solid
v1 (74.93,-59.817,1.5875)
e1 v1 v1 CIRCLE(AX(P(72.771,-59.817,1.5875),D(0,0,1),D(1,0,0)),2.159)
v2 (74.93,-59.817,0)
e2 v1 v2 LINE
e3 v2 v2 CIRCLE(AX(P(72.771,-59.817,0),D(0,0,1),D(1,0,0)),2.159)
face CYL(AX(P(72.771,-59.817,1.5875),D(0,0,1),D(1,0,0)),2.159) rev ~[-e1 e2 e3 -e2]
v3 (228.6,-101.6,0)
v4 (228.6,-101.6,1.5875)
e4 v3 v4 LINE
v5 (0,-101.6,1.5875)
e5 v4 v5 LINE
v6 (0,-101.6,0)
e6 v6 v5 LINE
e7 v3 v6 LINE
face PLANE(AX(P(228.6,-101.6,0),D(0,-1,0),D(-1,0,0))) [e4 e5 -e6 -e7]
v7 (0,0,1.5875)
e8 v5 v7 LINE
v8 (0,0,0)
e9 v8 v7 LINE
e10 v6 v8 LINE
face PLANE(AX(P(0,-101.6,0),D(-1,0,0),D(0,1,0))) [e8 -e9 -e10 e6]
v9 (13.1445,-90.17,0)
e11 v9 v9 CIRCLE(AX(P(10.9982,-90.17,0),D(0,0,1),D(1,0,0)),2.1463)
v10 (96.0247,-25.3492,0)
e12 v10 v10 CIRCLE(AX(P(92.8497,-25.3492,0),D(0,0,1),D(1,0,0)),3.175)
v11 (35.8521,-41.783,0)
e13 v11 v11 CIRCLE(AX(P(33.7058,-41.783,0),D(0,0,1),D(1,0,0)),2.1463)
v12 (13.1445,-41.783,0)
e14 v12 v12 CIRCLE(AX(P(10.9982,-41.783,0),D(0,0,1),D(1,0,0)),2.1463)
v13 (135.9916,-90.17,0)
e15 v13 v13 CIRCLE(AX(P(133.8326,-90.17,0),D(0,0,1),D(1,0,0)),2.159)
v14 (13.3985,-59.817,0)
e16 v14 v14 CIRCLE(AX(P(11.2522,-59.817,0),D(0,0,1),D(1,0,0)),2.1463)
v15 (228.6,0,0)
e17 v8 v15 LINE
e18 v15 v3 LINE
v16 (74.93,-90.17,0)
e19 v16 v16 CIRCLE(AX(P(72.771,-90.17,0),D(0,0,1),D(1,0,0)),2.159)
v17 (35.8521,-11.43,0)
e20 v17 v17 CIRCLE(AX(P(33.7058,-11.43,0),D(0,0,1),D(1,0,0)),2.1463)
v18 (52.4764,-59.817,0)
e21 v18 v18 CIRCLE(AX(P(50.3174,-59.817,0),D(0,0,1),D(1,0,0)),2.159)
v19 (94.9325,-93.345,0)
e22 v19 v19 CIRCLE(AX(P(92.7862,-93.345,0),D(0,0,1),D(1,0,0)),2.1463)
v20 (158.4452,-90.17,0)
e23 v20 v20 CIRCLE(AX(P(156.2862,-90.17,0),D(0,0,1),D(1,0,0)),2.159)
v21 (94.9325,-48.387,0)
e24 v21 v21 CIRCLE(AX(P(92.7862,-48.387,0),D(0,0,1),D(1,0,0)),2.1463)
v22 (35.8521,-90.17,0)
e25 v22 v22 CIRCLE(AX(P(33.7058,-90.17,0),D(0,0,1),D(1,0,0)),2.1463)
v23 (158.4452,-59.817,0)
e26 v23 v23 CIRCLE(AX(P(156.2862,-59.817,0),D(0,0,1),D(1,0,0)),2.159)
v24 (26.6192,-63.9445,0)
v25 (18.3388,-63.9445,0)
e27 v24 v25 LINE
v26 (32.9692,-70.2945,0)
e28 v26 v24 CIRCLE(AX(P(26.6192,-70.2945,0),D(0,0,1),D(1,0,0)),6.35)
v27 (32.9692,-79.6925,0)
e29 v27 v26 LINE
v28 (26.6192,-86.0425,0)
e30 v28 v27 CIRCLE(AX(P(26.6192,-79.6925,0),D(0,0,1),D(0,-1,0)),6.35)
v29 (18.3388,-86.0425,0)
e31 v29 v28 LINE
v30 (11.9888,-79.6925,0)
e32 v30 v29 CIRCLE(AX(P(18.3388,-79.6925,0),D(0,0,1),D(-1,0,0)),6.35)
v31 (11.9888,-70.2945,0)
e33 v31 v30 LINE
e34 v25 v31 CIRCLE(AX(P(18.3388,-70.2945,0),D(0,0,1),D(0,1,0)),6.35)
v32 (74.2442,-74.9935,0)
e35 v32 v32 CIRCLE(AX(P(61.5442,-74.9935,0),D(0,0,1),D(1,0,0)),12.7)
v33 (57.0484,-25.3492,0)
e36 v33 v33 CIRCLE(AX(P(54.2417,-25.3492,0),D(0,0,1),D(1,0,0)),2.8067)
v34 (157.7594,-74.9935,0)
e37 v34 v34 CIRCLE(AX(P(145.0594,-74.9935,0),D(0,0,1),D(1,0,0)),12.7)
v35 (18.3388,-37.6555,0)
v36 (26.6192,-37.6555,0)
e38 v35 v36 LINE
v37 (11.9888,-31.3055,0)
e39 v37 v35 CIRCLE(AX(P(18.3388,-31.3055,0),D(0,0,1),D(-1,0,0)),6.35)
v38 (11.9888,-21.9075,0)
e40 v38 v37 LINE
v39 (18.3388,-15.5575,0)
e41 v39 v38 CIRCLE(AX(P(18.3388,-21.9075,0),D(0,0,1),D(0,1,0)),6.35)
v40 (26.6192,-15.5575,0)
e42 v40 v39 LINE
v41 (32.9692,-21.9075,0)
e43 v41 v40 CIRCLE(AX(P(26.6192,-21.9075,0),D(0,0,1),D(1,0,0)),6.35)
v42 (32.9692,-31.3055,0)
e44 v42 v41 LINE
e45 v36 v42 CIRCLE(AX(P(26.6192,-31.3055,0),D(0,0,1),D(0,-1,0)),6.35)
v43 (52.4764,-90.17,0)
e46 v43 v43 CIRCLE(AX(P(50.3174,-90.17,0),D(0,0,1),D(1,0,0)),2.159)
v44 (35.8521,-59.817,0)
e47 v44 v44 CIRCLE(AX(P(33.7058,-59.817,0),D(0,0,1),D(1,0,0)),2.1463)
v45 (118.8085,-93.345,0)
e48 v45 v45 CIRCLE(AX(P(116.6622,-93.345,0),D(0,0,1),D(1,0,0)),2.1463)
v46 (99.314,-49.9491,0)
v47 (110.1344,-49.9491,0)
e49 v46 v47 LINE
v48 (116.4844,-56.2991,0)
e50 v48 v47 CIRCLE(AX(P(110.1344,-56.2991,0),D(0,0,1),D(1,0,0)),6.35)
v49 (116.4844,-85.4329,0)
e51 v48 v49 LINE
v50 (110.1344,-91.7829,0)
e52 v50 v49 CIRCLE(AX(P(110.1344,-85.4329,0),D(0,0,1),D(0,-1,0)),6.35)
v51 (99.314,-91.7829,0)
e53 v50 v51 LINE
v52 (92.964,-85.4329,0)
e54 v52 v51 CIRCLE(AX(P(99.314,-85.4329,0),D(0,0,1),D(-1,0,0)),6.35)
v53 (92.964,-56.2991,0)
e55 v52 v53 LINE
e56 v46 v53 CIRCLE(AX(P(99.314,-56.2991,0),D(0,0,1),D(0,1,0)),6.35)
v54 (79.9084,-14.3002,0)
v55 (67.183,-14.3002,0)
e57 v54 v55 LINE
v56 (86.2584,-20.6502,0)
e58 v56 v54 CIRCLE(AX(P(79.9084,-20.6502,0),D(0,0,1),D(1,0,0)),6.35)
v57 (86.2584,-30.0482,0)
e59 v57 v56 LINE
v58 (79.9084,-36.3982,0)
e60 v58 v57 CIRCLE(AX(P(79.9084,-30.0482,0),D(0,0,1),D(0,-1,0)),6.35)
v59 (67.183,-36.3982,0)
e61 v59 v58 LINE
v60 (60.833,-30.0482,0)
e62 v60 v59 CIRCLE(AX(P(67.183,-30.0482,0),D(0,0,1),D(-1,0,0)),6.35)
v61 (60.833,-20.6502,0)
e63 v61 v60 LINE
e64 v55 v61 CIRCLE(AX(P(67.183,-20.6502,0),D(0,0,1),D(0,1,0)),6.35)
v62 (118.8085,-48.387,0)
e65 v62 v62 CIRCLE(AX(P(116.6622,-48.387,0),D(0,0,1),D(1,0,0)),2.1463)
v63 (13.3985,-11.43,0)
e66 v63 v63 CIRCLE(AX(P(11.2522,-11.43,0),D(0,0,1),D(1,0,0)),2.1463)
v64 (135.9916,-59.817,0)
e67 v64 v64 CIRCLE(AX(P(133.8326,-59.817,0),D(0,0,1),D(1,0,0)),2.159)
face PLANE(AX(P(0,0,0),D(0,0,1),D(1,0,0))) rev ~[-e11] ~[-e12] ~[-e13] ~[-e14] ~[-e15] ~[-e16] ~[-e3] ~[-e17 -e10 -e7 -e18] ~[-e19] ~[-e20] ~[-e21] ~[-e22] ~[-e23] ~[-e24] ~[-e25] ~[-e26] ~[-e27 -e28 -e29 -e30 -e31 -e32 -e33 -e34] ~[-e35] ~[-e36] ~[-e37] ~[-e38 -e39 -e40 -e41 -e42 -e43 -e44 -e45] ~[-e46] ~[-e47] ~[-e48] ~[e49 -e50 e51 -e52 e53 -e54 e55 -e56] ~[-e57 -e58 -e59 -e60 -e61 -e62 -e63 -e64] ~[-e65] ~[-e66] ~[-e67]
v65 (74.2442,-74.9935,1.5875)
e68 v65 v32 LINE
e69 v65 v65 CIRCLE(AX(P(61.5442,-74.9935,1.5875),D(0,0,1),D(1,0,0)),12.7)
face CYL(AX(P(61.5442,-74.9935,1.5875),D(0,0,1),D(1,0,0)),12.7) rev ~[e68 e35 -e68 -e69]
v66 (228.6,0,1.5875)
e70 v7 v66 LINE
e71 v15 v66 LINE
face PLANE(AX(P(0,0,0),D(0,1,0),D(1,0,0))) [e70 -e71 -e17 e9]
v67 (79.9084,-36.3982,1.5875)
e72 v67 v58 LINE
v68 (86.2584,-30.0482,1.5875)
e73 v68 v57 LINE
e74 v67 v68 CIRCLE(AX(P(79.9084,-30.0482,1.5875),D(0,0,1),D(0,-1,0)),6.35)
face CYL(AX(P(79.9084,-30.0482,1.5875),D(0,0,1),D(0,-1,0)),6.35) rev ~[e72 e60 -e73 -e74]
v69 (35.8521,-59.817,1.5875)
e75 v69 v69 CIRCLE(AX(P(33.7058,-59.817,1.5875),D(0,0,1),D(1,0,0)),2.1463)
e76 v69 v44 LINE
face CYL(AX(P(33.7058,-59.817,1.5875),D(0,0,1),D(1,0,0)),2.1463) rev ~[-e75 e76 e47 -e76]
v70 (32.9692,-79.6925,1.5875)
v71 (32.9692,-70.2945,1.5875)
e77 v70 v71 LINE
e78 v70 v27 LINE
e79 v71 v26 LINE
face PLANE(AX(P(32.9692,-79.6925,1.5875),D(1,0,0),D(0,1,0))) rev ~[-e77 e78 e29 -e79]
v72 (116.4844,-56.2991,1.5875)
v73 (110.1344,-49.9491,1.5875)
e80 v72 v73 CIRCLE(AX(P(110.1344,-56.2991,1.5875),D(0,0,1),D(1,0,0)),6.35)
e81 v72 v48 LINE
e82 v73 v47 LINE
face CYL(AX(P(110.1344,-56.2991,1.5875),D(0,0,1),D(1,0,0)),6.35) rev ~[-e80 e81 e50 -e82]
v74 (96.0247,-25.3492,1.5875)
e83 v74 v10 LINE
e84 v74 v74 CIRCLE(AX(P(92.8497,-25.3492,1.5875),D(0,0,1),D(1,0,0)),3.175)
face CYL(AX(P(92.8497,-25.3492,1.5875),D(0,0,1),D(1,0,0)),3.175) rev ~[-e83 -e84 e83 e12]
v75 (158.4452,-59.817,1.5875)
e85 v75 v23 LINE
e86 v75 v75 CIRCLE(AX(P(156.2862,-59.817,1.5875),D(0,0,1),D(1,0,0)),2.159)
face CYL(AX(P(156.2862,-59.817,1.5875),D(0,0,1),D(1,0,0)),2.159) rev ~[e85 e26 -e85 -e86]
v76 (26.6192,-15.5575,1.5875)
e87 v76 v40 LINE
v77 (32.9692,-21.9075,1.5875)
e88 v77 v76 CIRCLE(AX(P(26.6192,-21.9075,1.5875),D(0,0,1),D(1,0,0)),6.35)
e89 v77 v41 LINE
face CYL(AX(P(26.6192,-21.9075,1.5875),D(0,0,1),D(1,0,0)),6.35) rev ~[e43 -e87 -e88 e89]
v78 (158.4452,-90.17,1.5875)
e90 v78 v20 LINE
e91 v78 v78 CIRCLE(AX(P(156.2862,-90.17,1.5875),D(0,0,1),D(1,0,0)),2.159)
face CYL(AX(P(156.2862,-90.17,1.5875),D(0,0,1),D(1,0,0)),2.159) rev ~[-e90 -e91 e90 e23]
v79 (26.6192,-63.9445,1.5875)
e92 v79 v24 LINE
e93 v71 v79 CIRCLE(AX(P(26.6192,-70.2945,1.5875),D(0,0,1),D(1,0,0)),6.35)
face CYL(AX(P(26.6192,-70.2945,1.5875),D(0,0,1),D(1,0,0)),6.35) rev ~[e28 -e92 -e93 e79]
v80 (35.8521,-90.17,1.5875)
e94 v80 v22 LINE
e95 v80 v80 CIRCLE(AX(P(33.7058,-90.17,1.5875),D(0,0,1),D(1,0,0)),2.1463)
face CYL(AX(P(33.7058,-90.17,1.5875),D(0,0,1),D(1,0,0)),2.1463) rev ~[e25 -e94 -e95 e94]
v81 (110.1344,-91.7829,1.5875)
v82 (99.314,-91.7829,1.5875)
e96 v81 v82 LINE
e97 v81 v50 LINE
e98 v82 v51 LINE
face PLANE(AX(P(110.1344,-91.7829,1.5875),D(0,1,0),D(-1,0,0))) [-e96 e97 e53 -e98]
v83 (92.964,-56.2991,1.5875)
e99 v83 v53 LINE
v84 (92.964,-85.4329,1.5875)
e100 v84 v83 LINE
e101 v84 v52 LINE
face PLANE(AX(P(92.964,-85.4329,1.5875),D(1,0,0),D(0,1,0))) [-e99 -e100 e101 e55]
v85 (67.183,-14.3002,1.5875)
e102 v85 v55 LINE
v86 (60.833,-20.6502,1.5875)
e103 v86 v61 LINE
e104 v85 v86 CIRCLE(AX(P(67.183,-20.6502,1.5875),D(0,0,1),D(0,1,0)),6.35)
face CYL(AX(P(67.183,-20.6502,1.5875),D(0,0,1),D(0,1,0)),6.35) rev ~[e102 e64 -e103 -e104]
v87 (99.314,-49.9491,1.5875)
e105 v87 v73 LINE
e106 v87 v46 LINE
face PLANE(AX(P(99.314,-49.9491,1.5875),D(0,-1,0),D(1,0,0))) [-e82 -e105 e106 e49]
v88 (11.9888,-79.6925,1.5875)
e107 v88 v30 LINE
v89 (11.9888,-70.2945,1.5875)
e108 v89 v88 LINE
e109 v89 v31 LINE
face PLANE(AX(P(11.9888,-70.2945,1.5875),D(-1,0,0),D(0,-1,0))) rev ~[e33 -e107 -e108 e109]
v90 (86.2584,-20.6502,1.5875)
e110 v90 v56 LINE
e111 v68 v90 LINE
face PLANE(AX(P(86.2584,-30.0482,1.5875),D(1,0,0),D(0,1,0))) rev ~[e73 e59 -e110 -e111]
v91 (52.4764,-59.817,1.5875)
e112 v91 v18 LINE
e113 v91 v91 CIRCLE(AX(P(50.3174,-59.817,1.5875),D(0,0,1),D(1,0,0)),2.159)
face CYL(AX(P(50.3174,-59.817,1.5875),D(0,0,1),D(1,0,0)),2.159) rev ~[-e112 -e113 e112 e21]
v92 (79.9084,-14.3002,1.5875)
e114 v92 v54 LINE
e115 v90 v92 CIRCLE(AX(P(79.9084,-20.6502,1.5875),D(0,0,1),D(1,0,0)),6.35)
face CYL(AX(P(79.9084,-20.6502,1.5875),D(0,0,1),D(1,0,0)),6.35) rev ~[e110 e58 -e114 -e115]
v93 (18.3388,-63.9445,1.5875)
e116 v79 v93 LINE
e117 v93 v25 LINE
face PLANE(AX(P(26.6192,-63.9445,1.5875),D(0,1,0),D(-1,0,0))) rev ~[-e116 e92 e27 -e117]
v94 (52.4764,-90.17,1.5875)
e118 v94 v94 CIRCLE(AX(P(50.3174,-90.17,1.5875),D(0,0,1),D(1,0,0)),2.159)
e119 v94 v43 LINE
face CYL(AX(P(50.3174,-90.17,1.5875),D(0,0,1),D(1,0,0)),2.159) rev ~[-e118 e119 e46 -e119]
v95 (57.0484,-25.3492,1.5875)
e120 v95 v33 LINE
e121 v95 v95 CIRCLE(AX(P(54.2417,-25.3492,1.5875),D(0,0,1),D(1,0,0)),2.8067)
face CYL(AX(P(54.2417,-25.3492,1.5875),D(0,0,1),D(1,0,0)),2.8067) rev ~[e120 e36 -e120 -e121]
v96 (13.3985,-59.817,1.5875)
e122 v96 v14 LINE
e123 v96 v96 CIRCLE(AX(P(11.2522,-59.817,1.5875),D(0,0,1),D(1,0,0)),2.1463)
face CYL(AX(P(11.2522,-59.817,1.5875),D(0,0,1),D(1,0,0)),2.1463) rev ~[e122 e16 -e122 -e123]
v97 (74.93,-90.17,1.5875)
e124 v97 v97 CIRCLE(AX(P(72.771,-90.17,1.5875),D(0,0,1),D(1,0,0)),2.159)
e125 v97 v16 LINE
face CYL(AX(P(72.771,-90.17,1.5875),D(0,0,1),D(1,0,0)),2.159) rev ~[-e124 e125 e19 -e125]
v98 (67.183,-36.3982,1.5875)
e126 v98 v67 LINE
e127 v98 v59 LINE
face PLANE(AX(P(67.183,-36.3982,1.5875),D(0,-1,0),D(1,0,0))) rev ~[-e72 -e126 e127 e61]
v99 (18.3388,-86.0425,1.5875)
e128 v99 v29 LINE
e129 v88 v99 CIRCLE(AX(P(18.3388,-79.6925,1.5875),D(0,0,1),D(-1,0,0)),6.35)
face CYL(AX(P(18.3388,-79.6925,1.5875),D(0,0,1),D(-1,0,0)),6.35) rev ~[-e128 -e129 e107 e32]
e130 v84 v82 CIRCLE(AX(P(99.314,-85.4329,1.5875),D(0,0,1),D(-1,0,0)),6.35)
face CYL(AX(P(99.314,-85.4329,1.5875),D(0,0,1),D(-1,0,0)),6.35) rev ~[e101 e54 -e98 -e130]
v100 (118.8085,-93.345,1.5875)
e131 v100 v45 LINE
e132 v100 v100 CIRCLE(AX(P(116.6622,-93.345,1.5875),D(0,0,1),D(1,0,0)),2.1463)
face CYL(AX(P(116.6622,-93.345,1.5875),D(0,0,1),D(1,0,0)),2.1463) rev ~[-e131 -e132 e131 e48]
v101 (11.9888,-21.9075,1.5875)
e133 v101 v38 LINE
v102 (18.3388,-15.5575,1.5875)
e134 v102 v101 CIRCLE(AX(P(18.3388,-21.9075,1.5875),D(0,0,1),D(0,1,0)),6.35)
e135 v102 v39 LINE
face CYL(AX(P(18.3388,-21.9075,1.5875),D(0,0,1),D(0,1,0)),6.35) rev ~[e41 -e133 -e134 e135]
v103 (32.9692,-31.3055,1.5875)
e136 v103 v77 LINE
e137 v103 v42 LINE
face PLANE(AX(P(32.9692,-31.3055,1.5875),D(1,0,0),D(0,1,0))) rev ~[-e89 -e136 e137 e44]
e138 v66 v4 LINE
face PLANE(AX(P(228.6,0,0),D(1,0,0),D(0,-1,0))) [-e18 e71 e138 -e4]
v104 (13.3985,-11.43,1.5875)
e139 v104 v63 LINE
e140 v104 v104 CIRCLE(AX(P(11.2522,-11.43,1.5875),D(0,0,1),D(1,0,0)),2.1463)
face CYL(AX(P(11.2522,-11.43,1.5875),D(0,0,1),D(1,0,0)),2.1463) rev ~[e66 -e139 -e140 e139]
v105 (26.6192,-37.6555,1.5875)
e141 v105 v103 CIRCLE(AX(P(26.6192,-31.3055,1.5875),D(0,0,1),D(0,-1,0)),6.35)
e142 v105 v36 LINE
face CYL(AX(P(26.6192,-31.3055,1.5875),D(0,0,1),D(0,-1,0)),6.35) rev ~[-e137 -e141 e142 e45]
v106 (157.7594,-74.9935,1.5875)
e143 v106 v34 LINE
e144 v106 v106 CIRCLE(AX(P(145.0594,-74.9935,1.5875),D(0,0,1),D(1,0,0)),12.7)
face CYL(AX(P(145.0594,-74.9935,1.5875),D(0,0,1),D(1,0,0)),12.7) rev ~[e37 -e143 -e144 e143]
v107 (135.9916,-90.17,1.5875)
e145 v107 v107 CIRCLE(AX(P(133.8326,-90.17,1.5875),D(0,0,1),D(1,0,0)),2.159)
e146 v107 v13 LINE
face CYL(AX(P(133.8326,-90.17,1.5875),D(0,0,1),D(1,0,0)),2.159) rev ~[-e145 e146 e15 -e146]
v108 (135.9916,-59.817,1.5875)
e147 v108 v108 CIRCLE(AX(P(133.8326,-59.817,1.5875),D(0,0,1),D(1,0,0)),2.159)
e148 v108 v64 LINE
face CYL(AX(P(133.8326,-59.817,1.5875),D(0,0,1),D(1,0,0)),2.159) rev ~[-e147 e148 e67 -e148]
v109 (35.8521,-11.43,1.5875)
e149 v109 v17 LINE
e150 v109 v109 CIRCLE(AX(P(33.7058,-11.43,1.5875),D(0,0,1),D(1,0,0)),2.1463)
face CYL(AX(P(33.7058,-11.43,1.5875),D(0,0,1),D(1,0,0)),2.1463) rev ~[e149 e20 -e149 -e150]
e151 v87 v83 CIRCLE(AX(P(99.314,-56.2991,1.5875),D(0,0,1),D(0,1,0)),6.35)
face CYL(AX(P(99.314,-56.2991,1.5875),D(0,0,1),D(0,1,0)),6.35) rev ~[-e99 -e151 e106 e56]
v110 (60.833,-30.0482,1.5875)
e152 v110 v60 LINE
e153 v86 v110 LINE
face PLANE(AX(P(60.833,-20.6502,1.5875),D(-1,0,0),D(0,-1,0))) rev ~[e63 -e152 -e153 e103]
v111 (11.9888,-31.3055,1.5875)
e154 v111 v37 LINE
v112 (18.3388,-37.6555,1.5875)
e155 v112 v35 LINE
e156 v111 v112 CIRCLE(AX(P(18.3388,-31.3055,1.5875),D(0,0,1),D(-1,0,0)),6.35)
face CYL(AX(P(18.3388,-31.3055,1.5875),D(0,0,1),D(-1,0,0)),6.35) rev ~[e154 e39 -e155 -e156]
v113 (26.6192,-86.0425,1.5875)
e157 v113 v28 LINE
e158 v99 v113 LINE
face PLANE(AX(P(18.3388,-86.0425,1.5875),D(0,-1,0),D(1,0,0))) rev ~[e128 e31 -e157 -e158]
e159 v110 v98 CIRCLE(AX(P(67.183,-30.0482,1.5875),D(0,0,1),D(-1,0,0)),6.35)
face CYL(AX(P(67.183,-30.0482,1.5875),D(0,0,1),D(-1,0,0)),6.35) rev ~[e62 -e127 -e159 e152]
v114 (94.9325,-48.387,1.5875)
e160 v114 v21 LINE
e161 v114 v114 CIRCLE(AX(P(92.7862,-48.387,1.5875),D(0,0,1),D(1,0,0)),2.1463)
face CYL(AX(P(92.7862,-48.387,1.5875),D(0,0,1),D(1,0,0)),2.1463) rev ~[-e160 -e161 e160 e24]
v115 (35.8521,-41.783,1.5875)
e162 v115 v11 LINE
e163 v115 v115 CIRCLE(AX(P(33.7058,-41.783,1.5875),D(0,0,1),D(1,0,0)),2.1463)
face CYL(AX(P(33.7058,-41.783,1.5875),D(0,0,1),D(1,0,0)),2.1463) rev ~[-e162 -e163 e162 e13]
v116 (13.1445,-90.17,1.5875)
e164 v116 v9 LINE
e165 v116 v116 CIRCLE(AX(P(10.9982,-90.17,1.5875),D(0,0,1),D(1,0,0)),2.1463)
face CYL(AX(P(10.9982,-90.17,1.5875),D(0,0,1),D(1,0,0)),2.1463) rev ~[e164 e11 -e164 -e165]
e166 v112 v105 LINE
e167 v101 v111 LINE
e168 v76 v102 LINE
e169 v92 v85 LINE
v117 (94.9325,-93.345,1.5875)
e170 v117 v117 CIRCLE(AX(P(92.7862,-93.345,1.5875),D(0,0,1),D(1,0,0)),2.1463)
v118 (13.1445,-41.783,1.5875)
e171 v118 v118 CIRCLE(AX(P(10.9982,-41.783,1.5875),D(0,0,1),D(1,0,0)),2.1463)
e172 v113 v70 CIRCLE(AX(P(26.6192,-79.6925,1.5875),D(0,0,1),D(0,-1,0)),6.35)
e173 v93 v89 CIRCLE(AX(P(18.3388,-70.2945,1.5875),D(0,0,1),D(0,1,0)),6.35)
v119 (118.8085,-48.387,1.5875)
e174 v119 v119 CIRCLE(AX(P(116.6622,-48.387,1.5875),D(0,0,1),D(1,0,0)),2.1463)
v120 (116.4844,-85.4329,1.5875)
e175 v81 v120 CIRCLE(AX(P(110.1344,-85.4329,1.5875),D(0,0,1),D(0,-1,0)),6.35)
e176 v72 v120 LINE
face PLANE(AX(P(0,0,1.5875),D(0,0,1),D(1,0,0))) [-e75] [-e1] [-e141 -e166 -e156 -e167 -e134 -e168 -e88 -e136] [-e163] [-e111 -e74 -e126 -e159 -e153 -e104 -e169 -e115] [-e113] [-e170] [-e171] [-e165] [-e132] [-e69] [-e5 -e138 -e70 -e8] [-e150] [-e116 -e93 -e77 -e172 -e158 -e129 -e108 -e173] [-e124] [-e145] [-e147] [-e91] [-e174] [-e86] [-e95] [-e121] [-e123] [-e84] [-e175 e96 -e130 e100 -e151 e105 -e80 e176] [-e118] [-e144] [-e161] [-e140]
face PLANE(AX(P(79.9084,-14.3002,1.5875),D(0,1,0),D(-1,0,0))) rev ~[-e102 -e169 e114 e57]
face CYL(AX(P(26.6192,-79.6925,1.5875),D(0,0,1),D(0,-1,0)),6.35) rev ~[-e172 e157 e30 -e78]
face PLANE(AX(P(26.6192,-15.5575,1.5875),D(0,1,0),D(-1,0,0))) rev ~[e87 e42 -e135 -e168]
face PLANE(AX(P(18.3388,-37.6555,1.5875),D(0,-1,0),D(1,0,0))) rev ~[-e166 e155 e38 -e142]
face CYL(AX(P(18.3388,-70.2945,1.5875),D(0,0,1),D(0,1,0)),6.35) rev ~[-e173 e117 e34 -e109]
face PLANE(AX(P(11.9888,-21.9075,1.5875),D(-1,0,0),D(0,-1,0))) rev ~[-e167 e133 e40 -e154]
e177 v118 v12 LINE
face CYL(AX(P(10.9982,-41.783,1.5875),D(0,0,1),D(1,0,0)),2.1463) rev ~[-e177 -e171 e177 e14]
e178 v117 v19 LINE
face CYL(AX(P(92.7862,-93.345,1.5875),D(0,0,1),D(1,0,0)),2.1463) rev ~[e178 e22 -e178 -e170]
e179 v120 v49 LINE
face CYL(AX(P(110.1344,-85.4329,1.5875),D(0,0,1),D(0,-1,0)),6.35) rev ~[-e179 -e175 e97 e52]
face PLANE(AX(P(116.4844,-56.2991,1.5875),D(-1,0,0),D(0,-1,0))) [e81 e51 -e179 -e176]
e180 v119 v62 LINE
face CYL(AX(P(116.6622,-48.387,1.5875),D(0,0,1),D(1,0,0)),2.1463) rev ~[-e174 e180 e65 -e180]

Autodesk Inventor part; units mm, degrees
ref_plane "YZ Plane" through (0, 0, 0) normal (1, 0, 0) x (0, 1, 0)
ref_plane "XZ Plane" through (0, 0, 0) normal (0, 1, 0) x (-1, 0, 0)
ref_plane "XY Plane" through (0, 0, 0) normal (0, 0, 1) x (1, 0, 0)
sketch "Sketch1" plane through (0, 0, 0) normal (0, 0, 1) x (1, 0, 0)
  line L0 (0, 0) -> (228.6, 0)
  line L1 (228.6, 0) -> (228.6, -101.6)
  line L2 (228.6, -101.6) -> (0, -101.6)
  line L3 (0, -101.6) -> (0, 0)
  dimension "d0" = 101.6
  dimension "d1" = 228.6
extrude "Extrusion1" add sketch "Sketch1" along normal blind 1.5875
sketch "Sketch2" plane through (0, 0, 1.5875) normal (0, 0, 1) x (1, 0, 0)
  line L0 (18.3388, -37.6555) -> (26.6192, -37.6555)
  line L1 (32.9692, -31.3055) -> (32.9692, -21.9075)
  line L2 (26.6192, -15.5575) -> (18.3388, -15.5575)
  line L3 (11.9888, -21.9075) -> (11.9888, -31.3055)
  arc A0 (11.9888, -31.3055) -> (18.3388, -37.6555) centre (18.3388, -31.3055) ccw
  arc A1 (18.3388, -15.5575) -> (11.9888, -21.9075) centre (18.3388, -21.9075) ccw
  arc A2 (32.9692, -21.9075) -> (26.6192, -15.5575) centre (26.6192, -21.9075) ccw
  arc A3 (26.6192, -37.6555) -> (32.9692, -31.3055) centre (26.6192, -31.3055) ccw
  circle A4 centre (10.9982, -41.783) radius 2.1463
  circle A5 centre (33.7058, -11.43) radius 2.1463
  circle A6 centre (33.7058, -41.783) radius 2.1463
  circle A7 centre (11.2522, -11.43) radius 2.1463
  line L4 (6.35, -46.863) -> (38.1, -46.863)
  line L5 (38.1, -46.863) -> (38.1, -6.35)
  line L6 (38.1, -6.35) -> (6.35, -6.35)
  line L7 (6.35, -6.35) -> (6.35, -46.863)
  line L8 (228.6, 0) -> (0, 0) projected
  line L9 (0, 0) -> (0, -101.6) projected
  point P0 (32.9692, -15.5575)
  point P1 (32.9692, -37.6555)
  point P2 (11.9888, -15.5575)
  dimension "d4" = 20.9804
  dimension "d5" = 22.098
  dimension "d6" = 6.35
  dimension "d7" = 4.2926
  dimension "d8" = 4.2926
  dimension "d9" = 4.2926
  dimension "d10" = 4.2926
  dimension "d11" = 0.9906
  dimension "d12" = 0.7366
  dimension "d13" = 0.7366
  dimension "d14" = 0.7366
  dimension "d15" = 4.1275
  dimension "d16" = 4.1275
  dimension "d17" = 4.1275
  dimension "d18" = 4.1275
  dimension "d19" = 31.75
  dimension "d20" = 40.513
  dimension "d21" = 5.08
  dimension "d22" = 4.6482
  dimension "d26" = 6.35
  dimension "d27" = 6.35
extrude "J9" cut sketch "Sketch2" against normal blind 1.5875 contours A0 L3 A1 L2 A2 L1 A3 L0 | A4 | A5 | A6 | A7
sketch "Sketch3" plane through (0, 0, 1.5875) normal (0, 0, 1) x (1, 0, 0)
  line L0 (67.183, -36.3982) -> (79.9084, -36.3982)
  line L1 (86.2584, -30.0482) -> (86.2584, -20.6502)
  line L2 (79.9084, -14.3002) -> (67.183, -14.3002)
  line L3 (60.833, -20.6502) -> (60.833, -30.0482)
  arc A0 (60.833, -30.0482) -> (67.183, -36.3982) centre (67.183, -30.0482) ccw
  arc A1 (79.9084, -36.3982) -> (86.2584, -30.0482) centre (79.9084, -30.0482) ccw
  arc A2 (86.2584, -20.6502) -> (79.9084, -14.3002) centre (79.9084, -20.6502) ccw
  arc A3 (67.183, -14.3002) -> (60.833, -20.6502) centre (67.183, -20.6502) ccw
  circle A4 centre (54.2417, -25.3492) radius 2.8067
  circle A5 centre (92.8497, -25.3492) radius 3.175
  line L4 (45.6692, -40.8432) -> (100.4062, -40.8432)
  line L5 (100.4062, -40.8432) -> (100.4062, -9.8552)
  line L6 (100.4062, -9.8552) -> (45.6692, -9.8552)
  line L7 (45.6692, -9.8552) -> (45.6692, -40.8432)
  line L8 (228.6, 0) -> (0, 0) projected
  line L9 (32.9692, -21.9075) -> (32.9692, -31.3055) projected
  dimension "d30" = 6.35
  dimension "d31" = 25.4254
  dimension "d32" = 22.098
  dimension "d33" = 5.6134
  dimension "d34" = 6.35
  dimension "d35" = 6.5913
  dimension "d36" = 6.5913
  dimension "d37" = 11.049
  dimension "d38" = 11.049
  dimension "d39" = 54.737
  dimension "d40" = 30.988
  dimension "d41" = 15.494
  dimension "d42" = 14.1478
  dimension "d98" = 12.7
  dimension "d99" = 9.8552
extrude "J8" cut sketch "Sketch3" against normal blind 1.5875 contours A0 L3 A3 L2 A2 L1 A1 L0 | A4 | A5
sketch "Sketch4" plane through (0, 0, 1.5875) normal (0, 0, 1) x (1, 0, 0)
  circle A0 centre (61.5442, -74.9935) radius 12.7
  circle A1 centre (50.3174, -90.17) radius 2.159
  circle A2 centre (50.3174, -59.817) radius 2.159
  circle A3 centre (72.771, -90.17) radius 2.159
  circle A4 centre (72.771, -59.817) radius 2.159
  line L0 (45.6692, -95.25) -> (77.4192, -95.25)
  line L1 (77.4192, -95.25) -> (77.4192, -54.737)
  line L2 (77.4192, -54.737) -> (45.6692, -54.737)
  line L3 (45.6692, -54.737) -> (45.6692, -95.25)
  line L4 (228.6, 0) -> (0, 0) projected
  line L5 (0, 0) -> (0, -101.6) projected
  line L6 (0, -101.6) -> (228.6, -101.6) projected
  line L7 (32.9692, -21.9075) -> (32.9692, -31.3055) projected
  dimension "d49" = 25.4
  dimension "d50" = 4.318
  dimension "d51" = 4.318
  dimension "d52" = 4.318
  dimension "d53" = 4.318
  dimension "d54" = 11.2268
  dimension "d55" = 11.2268
  dimension "d56" = 11.2268
  dimension "d57" = 11.2268
  dimension "d58" = 15.1765
  dimension "d59" = 15.1765
  dimension "d60" = 15.1765
  dimension "d61" = 15.1765
  dimension "d62" = 31.75
  dimension "d63" = 40.513
  dimension "d64" = 5.08
  dimension "d65" = 4.6482
  dimension "d69" = 6.35
  dimension "d97" = 12.7
extrude "J7" cut sketch "Sketch4" against normal blind 1.5875 contours A0 | A1 | A2 | A3 | A4
sketch "Sketch5" plane through (0, 0, 1.5875) normal (0, 0, 1) x (1, 0, 0)
  arc A0 (18.3388, -63.9445) -> (11.9888, -70.2945) centre (18.3388, -70.2945) ccw
  line L0 (32.9692, -79.6925) -> (32.9692, -70.2945)
  circle A1 centre (11.2522, -59.817) radius 2.1463
  line L1 (38.1, -54.737) -> (6.35, -54.737)
  line L2 (11.9888, -70.2945) -> (11.9888, -79.6925)
  line L3 (18.3388, -86.0425) -> (26.6192, -86.0425)
  line L4 (38.1, -95.25) -> (38.1, -54.737)
  line L5 (6.35, -54.737) -> (6.35, -95.25)
  line L6 (26.6192, -63.9445) -> (18.3388, -63.9445)
  circle A2 centre (33.7058, -59.817) radius 2.1463
  arc A3 (11.9888, -79.6925) -> (18.3388, -86.0425) centre (18.3388, -79.6925) ccw
  arc A4 (26.6192, -86.0425) -> (32.9692, -79.6925) centre (26.6192, -79.6925) ccw
  circle A5 centre (10.9982, -90.17) radius 2.1463
  circle A6 centre (33.7058, -90.17) radius 2.1463
  line L7 (6.35, -95.25) -> (38.1, -95.25)
  arc A7 (32.9692, -70.2945) -> (26.6192, -63.9445) centre (26.6192, -70.2945) ccw
  line L8 (228.6, 0) -> (0, 0)
  line L9 (0, 0) -> (0, -101.6)
  line L10 (0, -101.6) -> (228.6, -101.6) projected
  point P0 (11.9888, -63.9445)
  point P1 (32.9692, -63.9445)
  point P2 (32.9692, -86.0425)
  dimension "d72" = 20.9804
  dimension "d73" = 22.098
  dimension "d74" = 6.35
  dimension "d75" = 4.2926
  dimension "d76" = 4.2926
  dimension "d77" = 4.2926
  dimension "d78" = 4.2926
  dimension "d79" = 0.9906
  dimension "d80" = 0.7366
  dimension "d81" = 0.7366
  dimension "d82" = 0.7366
  dimension "d83" = 4.1275
  dimension "d84" = 4.1275
  dimension "d85" = 4.1275
  dimension "d86" = 4.1275
  dimension "d87" = 31.75
  dimension "d88" = 40.513
  dimension "d89" = 5.08
  dimension "d90" = 4.6482
  dimension "d93" = 6.35
  dimension "d94" = 6.35
extrude "J6" cut sketch "Sketch5" against normal blind 1.5875 contours L6 A7 L0 A4 L3 A3 L2 A0 | A1 | A2 | A5 | A6
sketch "Sketch6" plane through (0, 0, 1.5875) normal (0, 0, 1) x (1, 0, 0)
  line L0 (99.314, -49.9491) -> (110.1344, -49.9491)
  line L1 (116.4844, -56.2991) -> (116.4844, -85.4329)
  line L2 (110.1344, -91.7829) -> (99.314, -91.7829)
  line L3 (92.964, -85.4329) -> (92.964, -56.2991)
  arc A0 (92.964, -85.4329) -> (99.314, -91.7829) centre (99.314, -85.4329) ccw
  arc A1 (110.1344, -91.7829) -> (116.4844, -85.4329) centre (110.1344, -85.4329) ccw
  arc A2 (116.4844, -56.2991) -> (110.1344, -49.9491) centre (110.1344, -56.2991) ccw
  arc A3 (99.314, -49.9491) -> (92.964, -56.2991) centre (99.314, -56.2991) ccw
  circle A4 centre (92.7862, -48.387) radius 2.1463
  circle A5 centre (116.6622, -48.387) radius 2.1463
  circle A6 centre (116.6622, -93.345) radius 2.1463
  circle A7 centre (92.7862, -93.345) radius 2.1463
  line L4 (86.9442, -98.425) -> (122.5042, -98.425)
  line L5 (122.5042, -98.425) -> (122.5042, -43.307)
  line L6 (122.5042, -43.307) -> (86.9442, -43.307)
  line L7 (86.9442, -43.307) -> (86.9442, -98.425)
  line L8 (228.6, 0) -> (0, 0) projected
  line L9 (0, -101.6) -> (228.6, -101.6) projected
  circle A8 centre (61.5442, -74.9935) radius 12.7 projected
  point P0 (92.964, -49.9491)
  point P1 (116.4844, -91.7829)
  point P2 (92.964, -91.7829)
  dimension "d100" = 23.5204
  dimension "d101" = 41.8338
  dimension "d102" = 6.35
  dimension "d103" = 0.1778
  dimension "d104" = 23.876
  dimension "d105" = 0.1778
  dimension "d106" = 1.5621
  dimension "d107" = 23.876
  dimension "d108" = 1.5621
  dimension "d109" = 1.5621
  dimension "d110" = 1.5621
  dimension "d111" = 35.56
  dimension "d112" = 55.118
  dimension "d113" = 5.08
  dimension "d114" = 5.842
  dimension "d115" = 4.2926
  dimension "d116" = 4.2926
  dimension "d117" = 4.2926
  dimension "d118" = 4.2926
  dimension "d121" = 3.175
  dimension "d122" = 12.7
extrude "J11" cut sketch "Sketch6" against normal blind 1.5875 contours L0 A2 L1 A1 L2 A0 L3 A3 | A4 | A5 | A6 | A7
sketch "Sketch7" plane through (0, 0, 1.5875) normal (0, 0, 1) x (1, 0, 0)
  circle A0 centre (156.2862, -90.17) radius 2.159
  line L0 (160.9344, -95.25) -> (160.9344, -54.737)
  circle A1 centre (145.0594, -74.9935) radius 12.7
  circle A2 centre (133.8326, -59.817) radius 2.159
  line L1 (160.9344, -54.737) -> (129.1844, -54.737)
  line L2 (129.1844, -95.25) -> (160.9344, -95.25)
  circle A3 centre (156.2862, -59.817) radius 2.159
  circle A4 centre (133.8326, -90.17) radius 2.159
  line L3 (129.1844, -54.737) -> (129.1844, -95.25)
  line L4 (116.4844, -56.2991) -> (116.4844, -85.4329) projected
  line L5 (0, -101.6) -> (228.6, -101.6) projected
  point P0 (0, 0)
  dimension "d125" = 25.4
  dimension "d126" = 4.318
  dimension "d127" = 4.318
  dimension "d128" = 4.318
  dimension "d129" = 4.318
  dimension "d130" = 11.2268
  dimension "d131" = 11.2268
  dimension "d132" = 11.2268
  dimension "d133" = 11.2268
  dimension "d134" = 15.1765
  dimension "d135" = 15.1765
  dimension "d136" = 15.1765
  dimension "d137" = 15.1765
  dimension "d138" = 31.75
  dimension "d139" = 40.513
  dimension "d140" = 5.08
  dimension "d141" = 4.6482
  dimension "d144" = 12.7
  dimension "d146" = 6.35
extrude "J4" cut sketch "Sketch7" against normal blind 1.5875 contours A0 | A1 | A2 | A3 | A4
equation "\"d27\" = d26"
equation "\"d37\" = 0.5 * d32"
equation "\"d41\" = 0.5 * d40"
equation "\"d94\" = d93"
properties part number "Plug-in Plate"
